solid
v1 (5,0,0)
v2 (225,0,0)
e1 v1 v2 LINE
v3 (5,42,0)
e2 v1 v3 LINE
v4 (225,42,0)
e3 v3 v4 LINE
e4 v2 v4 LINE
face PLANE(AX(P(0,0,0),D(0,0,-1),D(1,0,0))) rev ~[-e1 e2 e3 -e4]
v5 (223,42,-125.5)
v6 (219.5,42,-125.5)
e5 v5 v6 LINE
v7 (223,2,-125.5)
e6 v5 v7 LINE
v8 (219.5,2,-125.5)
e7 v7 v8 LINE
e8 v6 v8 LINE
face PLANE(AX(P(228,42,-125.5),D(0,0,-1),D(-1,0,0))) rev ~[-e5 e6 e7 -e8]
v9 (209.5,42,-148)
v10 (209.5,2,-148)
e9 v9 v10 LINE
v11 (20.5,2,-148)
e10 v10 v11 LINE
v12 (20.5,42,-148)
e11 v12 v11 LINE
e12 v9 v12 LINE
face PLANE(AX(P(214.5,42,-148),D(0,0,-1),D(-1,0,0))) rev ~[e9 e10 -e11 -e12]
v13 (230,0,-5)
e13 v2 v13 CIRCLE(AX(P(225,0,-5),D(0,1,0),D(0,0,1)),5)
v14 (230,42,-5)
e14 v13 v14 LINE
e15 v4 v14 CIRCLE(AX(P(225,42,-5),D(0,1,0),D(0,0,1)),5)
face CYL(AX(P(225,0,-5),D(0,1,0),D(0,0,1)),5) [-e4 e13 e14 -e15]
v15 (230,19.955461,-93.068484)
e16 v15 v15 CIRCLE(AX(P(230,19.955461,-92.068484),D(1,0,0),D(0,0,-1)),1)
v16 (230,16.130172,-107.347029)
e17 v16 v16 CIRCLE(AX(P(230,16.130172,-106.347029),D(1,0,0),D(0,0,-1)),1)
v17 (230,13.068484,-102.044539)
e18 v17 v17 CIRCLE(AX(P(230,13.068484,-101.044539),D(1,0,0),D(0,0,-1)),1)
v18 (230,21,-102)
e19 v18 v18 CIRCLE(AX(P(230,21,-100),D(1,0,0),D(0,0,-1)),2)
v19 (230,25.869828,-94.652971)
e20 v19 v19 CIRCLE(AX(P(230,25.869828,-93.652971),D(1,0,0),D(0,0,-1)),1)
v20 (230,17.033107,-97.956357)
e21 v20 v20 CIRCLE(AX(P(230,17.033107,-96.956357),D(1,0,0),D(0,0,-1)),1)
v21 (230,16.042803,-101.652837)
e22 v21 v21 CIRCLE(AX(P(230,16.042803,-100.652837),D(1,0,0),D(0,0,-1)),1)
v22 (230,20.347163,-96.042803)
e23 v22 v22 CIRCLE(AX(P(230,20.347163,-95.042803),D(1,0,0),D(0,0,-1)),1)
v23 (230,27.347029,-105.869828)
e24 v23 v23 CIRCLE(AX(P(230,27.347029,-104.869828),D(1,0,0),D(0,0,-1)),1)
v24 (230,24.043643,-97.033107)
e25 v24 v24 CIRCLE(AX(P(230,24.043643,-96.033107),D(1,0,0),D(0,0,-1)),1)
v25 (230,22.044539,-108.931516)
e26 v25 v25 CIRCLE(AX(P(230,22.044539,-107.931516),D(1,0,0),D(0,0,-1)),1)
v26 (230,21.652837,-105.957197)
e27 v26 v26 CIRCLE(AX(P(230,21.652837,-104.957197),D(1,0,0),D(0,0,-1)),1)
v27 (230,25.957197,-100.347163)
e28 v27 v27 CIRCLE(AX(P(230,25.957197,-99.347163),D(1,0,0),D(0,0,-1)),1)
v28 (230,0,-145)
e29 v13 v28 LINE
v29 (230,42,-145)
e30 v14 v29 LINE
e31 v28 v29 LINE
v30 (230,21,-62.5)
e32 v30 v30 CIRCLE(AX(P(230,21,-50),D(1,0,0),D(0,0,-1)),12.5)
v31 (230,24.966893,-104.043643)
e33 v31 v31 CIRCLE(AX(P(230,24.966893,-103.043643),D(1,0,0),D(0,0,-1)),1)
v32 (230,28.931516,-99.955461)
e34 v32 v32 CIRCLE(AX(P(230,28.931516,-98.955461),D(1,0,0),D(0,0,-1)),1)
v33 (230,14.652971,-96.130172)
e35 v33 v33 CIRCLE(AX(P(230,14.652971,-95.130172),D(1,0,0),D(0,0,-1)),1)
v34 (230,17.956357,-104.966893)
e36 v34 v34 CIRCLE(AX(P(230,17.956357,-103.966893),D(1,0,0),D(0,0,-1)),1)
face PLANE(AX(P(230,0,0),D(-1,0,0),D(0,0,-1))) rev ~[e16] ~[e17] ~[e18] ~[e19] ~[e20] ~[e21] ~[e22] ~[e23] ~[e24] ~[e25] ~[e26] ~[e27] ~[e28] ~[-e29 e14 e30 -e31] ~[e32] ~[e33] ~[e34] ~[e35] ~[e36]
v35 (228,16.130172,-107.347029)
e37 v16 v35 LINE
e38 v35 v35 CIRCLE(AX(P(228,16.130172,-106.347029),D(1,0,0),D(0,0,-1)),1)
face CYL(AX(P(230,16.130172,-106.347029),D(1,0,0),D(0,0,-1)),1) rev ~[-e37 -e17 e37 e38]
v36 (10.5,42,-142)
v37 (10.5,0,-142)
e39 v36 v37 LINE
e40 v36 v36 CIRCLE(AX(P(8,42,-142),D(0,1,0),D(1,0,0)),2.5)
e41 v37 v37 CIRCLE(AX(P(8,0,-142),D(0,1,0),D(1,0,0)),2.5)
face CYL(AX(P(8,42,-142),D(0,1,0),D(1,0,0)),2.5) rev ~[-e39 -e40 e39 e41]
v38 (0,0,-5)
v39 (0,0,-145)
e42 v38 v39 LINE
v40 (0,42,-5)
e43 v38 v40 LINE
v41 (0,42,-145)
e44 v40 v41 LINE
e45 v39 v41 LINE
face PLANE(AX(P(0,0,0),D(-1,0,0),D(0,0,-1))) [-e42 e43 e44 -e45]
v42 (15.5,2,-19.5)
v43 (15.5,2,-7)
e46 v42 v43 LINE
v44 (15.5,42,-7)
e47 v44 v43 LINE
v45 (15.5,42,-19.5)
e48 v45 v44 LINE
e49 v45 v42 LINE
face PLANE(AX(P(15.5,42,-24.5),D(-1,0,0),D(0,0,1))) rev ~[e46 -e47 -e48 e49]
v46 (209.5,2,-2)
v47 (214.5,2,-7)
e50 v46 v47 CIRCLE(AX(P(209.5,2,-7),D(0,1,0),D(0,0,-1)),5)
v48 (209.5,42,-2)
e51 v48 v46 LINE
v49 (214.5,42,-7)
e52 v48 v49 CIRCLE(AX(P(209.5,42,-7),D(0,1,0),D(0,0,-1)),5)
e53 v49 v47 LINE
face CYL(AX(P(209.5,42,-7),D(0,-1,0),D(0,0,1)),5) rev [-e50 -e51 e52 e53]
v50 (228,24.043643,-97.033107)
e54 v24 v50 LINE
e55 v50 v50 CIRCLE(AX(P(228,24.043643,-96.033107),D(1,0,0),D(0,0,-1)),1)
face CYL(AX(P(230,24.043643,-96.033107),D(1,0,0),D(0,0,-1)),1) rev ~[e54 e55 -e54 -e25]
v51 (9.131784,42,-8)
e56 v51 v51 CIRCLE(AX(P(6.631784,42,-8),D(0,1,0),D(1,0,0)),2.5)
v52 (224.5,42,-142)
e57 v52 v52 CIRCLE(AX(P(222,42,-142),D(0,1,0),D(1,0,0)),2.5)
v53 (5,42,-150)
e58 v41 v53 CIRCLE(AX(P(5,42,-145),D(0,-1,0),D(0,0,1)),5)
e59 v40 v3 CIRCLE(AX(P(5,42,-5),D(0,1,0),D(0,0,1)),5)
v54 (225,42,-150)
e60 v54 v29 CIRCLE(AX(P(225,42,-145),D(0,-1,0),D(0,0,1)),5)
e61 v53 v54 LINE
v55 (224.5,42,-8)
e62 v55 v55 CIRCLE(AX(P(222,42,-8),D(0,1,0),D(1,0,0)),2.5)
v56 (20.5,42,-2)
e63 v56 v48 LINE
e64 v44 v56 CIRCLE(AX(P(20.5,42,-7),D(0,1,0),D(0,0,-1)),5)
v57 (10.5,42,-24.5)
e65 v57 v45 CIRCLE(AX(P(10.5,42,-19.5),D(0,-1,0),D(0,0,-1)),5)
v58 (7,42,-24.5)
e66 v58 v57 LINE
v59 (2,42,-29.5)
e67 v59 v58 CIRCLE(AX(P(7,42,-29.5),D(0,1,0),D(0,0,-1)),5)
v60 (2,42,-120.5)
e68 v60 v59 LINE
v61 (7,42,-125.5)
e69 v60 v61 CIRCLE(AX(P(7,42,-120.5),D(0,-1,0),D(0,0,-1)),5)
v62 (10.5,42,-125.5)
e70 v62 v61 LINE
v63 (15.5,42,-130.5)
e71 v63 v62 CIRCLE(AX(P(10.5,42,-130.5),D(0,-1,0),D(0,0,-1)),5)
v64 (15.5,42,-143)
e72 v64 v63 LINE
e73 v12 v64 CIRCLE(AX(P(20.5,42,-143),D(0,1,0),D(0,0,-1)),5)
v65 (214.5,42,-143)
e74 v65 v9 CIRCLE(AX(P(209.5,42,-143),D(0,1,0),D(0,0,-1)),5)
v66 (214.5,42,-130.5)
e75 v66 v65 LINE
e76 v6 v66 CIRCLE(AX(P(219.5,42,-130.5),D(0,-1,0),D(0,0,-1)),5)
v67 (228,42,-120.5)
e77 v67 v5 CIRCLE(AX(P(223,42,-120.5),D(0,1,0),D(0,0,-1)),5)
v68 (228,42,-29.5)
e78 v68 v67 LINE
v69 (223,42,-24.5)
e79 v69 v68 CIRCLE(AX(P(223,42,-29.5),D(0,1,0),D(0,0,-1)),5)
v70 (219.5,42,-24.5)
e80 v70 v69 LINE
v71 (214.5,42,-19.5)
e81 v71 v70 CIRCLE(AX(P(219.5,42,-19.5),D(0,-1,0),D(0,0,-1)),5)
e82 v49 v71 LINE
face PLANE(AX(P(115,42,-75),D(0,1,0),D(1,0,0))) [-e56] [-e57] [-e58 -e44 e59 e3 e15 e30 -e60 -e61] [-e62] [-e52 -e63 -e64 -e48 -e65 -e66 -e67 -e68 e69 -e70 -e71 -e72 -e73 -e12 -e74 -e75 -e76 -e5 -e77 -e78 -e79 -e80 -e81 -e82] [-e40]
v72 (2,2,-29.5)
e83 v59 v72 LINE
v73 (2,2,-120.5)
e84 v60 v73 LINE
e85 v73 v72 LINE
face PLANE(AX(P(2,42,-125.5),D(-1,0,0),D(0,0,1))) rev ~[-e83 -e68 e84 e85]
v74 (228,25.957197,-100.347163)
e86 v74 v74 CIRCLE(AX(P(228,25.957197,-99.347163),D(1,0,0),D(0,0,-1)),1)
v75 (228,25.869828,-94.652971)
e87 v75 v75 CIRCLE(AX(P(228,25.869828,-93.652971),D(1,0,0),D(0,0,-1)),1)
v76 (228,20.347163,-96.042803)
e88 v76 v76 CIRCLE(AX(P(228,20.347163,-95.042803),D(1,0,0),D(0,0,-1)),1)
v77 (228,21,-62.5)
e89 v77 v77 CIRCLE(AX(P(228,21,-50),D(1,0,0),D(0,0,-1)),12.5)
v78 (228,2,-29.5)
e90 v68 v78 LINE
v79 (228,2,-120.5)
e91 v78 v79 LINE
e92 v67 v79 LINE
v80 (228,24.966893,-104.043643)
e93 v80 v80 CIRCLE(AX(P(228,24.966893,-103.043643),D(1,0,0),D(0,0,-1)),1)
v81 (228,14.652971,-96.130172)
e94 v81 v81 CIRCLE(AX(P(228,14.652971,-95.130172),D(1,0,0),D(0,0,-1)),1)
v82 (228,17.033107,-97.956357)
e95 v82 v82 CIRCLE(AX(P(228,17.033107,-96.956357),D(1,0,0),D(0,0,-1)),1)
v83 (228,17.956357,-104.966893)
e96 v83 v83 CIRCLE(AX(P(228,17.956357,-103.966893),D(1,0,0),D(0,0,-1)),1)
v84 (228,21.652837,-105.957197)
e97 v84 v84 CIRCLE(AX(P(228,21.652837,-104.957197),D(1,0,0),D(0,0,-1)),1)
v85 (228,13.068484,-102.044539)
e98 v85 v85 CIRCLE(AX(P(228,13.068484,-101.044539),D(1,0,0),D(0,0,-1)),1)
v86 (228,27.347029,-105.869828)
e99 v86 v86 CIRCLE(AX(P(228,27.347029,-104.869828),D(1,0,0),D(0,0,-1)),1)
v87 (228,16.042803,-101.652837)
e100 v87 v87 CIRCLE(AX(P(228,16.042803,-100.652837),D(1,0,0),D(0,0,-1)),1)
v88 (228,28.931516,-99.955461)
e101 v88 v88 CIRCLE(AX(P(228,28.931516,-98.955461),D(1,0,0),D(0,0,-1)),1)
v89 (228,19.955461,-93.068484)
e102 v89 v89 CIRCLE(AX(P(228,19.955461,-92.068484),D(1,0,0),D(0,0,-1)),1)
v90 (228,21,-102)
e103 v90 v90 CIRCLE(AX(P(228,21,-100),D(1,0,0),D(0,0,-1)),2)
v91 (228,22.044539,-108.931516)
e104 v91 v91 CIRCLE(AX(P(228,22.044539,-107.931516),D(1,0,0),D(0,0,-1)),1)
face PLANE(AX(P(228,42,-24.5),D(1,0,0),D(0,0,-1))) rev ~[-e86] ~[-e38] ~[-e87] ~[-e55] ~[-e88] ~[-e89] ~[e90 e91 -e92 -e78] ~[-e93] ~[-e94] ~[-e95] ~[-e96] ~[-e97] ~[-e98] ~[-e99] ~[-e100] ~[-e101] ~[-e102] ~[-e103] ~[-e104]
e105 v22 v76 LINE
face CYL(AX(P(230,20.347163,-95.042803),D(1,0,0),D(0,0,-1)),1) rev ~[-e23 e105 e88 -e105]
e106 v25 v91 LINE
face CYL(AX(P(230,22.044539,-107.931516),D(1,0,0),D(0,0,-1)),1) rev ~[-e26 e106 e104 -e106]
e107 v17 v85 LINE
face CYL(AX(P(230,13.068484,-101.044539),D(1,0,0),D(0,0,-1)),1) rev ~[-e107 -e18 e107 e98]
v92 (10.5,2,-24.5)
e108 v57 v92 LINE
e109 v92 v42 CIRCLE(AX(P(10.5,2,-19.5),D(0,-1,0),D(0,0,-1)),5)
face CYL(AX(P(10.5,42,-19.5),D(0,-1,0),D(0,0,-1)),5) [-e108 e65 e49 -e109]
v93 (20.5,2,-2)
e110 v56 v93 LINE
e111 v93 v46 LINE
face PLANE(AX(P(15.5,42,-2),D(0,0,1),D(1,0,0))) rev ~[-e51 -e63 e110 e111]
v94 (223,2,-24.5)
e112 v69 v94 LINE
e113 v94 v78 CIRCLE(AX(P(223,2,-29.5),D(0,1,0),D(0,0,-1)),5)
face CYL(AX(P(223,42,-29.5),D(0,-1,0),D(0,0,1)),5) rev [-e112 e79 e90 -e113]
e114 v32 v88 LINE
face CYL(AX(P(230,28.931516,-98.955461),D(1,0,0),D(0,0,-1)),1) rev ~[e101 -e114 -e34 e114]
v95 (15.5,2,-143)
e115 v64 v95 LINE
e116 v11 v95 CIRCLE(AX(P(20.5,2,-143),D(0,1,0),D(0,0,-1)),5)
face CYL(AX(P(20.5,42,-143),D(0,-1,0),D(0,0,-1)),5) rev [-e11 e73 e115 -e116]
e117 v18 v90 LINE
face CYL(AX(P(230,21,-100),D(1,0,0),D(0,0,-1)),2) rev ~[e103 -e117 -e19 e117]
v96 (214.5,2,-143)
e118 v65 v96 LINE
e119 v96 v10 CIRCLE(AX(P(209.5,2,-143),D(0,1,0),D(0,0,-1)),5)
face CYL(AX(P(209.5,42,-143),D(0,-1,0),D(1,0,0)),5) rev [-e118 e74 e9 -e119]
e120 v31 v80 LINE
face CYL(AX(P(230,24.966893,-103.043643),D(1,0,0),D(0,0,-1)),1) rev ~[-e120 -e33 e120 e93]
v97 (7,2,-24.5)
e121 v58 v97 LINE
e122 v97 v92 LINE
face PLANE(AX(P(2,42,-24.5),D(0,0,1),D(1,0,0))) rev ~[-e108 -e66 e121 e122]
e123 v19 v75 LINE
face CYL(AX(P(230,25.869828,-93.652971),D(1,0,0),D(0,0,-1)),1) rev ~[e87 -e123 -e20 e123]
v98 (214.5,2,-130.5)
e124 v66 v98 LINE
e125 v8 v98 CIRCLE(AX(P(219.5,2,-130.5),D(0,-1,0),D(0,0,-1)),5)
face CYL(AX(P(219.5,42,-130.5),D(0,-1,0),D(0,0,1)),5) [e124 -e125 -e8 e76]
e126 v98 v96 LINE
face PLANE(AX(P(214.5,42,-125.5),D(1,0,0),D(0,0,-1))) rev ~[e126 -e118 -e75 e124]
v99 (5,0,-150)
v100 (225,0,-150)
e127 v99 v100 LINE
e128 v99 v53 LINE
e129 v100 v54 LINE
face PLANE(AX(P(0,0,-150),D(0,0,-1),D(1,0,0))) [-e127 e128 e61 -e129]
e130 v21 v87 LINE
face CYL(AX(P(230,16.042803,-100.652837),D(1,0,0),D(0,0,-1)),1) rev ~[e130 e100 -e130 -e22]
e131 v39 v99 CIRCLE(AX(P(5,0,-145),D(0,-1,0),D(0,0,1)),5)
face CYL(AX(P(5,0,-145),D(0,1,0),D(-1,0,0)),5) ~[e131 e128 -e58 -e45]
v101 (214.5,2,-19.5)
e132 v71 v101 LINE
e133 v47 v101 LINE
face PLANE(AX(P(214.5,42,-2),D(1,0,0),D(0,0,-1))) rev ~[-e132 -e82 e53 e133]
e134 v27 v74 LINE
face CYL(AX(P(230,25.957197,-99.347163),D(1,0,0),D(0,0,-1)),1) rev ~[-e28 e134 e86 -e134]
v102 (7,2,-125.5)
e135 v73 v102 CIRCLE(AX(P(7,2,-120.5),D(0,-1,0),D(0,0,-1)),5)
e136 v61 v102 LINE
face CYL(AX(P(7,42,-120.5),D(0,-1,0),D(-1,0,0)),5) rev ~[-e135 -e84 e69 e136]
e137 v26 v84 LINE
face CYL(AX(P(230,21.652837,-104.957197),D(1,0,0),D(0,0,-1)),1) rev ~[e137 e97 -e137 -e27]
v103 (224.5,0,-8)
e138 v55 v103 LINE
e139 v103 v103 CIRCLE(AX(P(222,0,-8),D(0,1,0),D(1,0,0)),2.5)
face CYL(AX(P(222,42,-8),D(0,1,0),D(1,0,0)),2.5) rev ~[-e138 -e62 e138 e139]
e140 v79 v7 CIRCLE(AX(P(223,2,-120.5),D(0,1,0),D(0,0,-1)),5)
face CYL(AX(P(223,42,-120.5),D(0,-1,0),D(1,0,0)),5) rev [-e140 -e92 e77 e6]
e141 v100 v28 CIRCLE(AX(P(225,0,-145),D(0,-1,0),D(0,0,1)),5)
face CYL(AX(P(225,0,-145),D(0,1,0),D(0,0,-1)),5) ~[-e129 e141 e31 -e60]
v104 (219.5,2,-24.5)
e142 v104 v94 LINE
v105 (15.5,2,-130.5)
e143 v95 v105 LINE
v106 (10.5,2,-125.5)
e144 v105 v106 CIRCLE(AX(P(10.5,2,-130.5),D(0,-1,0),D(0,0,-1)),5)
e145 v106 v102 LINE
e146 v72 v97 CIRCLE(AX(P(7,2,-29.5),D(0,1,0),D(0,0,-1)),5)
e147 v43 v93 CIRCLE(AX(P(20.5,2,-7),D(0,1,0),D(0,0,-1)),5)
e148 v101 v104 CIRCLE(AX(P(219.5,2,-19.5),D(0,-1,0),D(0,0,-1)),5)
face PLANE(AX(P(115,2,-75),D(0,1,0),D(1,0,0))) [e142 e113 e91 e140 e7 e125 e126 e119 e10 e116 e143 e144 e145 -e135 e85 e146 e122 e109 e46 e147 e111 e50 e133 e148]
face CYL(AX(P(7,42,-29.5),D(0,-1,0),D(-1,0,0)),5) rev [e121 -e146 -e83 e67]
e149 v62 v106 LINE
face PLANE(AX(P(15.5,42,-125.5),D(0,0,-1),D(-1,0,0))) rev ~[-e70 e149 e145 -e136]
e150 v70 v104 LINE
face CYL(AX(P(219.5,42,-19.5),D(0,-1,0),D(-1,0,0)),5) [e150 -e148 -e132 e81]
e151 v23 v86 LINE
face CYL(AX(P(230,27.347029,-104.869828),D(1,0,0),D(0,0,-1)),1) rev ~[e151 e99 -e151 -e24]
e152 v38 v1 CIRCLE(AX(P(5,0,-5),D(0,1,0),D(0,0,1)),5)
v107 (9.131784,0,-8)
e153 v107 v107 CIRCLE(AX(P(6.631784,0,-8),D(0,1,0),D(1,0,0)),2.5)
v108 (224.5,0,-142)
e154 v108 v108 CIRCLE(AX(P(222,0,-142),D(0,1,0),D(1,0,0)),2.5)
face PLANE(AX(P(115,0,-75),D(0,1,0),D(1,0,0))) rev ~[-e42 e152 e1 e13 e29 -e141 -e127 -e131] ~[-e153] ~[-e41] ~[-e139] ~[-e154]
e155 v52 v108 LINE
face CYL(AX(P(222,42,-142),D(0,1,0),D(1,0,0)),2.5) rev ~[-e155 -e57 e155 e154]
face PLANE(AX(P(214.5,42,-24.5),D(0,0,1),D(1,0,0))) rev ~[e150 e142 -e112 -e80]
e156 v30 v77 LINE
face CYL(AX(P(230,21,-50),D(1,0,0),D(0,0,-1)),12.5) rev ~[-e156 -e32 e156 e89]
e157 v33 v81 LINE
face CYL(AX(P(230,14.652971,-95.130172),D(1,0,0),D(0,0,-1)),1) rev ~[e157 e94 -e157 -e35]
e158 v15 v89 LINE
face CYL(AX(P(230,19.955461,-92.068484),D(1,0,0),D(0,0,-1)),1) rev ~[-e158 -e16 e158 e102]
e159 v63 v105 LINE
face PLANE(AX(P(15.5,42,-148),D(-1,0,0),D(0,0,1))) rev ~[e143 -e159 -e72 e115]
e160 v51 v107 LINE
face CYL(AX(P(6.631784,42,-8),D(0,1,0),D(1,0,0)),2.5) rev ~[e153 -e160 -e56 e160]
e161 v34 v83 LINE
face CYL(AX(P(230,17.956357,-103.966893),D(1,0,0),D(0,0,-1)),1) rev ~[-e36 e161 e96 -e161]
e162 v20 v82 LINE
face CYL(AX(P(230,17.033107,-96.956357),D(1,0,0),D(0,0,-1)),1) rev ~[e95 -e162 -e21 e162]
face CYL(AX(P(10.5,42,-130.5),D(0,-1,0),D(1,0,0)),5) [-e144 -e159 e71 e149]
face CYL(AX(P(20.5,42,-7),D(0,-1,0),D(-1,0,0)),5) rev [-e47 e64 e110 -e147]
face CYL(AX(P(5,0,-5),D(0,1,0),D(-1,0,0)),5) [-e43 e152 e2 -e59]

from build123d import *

# Parameters (mm, degrees)
SKETCH_1_W          = 230
SKETCH_1_H          = 150
EXTRUDE_1_DEPTH     = 42
CUT_EXTRUDE_2_DEPTH = 40
FILLET_1_R          = 5
FILLET_2_R          = 5
SKETCH_5_R          = 2.5
CUT_EXTRUDE_3_DEPTH = 43
SKETCH_6_R          = 12.5
CUT_EXTRUDE_4_DEPTH = 10
CUT_EXTRUDE_5_REACH = 232
SKETCH_9_R          = 2
SKETCH_9_R_2        = 1


with BuildPart() as part:
    # 草图1 → 凸台-拉伸1 (new body)
    with BuildSketch(Plane(origin=(0, 0, 0), x_dir=(1, 0, 0), z_dir=(0, 1, 0))):
        with Locations((115, 75)):
            Rectangle(SKETCH_1_W, SKETCH_1_H)
    extrude(amount=EXTRUDE_1_DEPTH)

    # 草图4 → 切除-拉伸2 (cut)
    with BuildSketch(Plane(origin=(0, 42, 0), x_dir=(1, 0, 0), z_dir=(0, 1, 0))):
        Polygon((2, 125.5), (2, 24.5), (15.5, 24.5), (15.5, 2), (214.5, 2), (214.5, 24.5), (228, 24.5), (228, 125.5), (214.5, 125.5), (214.5, 148), (15.5, 148), (15.5, 125.5), align=None)
    extrude(amount=-CUT_EXTRUDE_2_DEPTH, mode=Mode.SUBTRACT)

    # 圆角1
    fillet_1_edges = [part.edges().sort_by_distance(p)[0] for p in [
        (0, 21, -150),
        (0, 21, 0),
        (230, 21, 0),
        (230, 21, -150),
    ]]
    fillet(fillet_1_edges, radius=FILLET_1_R)

    # 圆角2
    fillet_2_edges = [part.edges().sort_by_distance(p)[0] for p in [
        (2, 22, -125.5),
        (15.5, 22, -125.5),
        (15.5, 22, -148),
        (214.5, 22, -148),
        (214.5, 22, -125.5),
        (228, 22, -125.5),
        (228, 22, -24.5),
        (214.5, 22, -24.5),
        (214.5, 22, -2),
        (15.5, 22, -2),
        (15.5, 22, -24.5),
        (2, 22, -24.5),
    ]]
    fillet(fillet_2_edges, radius=FILLET_2_R)

    # 草图5 → 切除-拉伸3 (cut, through all)
    with BuildSketch(Plane(origin=(0, 42, 0), x_dir=(1, 0, 0), z_dir=(0, 1, 0))):
        with Locations((222, 142)):
            Circle(SKETCH_5_R)
        with Locations((6.63178387, 8)):
            Circle(SKETCH_5_R)
        with Locations((222, 8)):
            Circle(SKETCH_5_R)
        with Locations((8, 142)):
            Circle(SKETCH_5_R)
    extrude(amount=-CUT_EXTRUDE_3_DEPTH, mode=Mode.SUBTRACT)

    # 草图6 → 切除-拉伸4 (cut)
    with BuildSketch(Plane(origin=(230, 0, 0), x_dir=(0, 0, -1), z_dir=(1, 0, 0))):
        with Locations((50, 21)):
            Circle(SKETCH_6_R)
    extrude(amount=-CUT_EXTRUDE_4_DEPTH, mode=Mode.SUBTRACT)

    # 草图9 → 切除-拉伸5 (cut, up to next)
    with BuildSketch(Plane(origin=(230, 0, 0), x_dir=(0, 0, -1), z_dir=(1, 0, 0)), mode=Mode.PRIVATE) as cut_extrude_5_sk1:
        with Locations((100, 21)):
            Circle(SKETCH_9_R)
    cut_extrude_5_tool1 = extrude(cut_extrude_5_sk1.sketch, amount=-CUT_EXTRUDE_5_REACH, mode=Mode.PRIVATE) & part.part
    add(cut_extrude_5_tool1.solids().sort_by_distance((230, 21, -100))[0], mode=Mode.SUBTRACT)
    # 草图9 → 切除-拉伸5 (cut, up to next)
    with BuildSketch(Plane(origin=(230, 0, 0), x_dir=(0, 0, -1), z_dir=(1, 0, 0)), mode=Mode.PRIVATE) as cut_extrude_5_sk2:
        with Locations((103.04364251, 24.966893025)):
            Circle(SKETCH_9_R_2)
    cut_extrude_5_tool2 = extrude(cut_extrude_5_sk2.sketch, amount=-CUT_EXTRUDE_5_REACH, mode=Mode.PRIVATE) & part.part
    add(cut_extrude_5_tool2.solids().sort_by_distance((230, 24.966893, -103.043643))[0], mode=Mode.SUBTRACT)
    # 草图9 → 切除-拉伸5 (cut, up to next)
    with BuildSketch(Plane(origin=(230, 0, 0), x_dir=(0, 0, -1), z_dir=(1, 0, 0)), mode=Mode.PRIVATE) as cut_extrude_5_sk3:
        with Locations((104.869828016, 27.34702884)):
            Circle(SKETCH_9_R_2)
    cut_extrude_5_tool3 = extrude(cut_extrude_5_sk3.sketch, amount=-CUT_EXTRUDE_5_REACH, mode=Mode.PRIVATE) & part.part
    add(cut_extrude_5_tool3.solids().sort_by_distance((230, 27.347029, -104.869828))[0], mode=Mode.SUBTRACT)
    # 草图9 → 切除-拉伸5 (cut, up to next)
    with BuildSketch(Plane(origin=(230, 0, 0), x_dir=(0, 0, -1), z_dir=(1, 0, 0)), mode=Mode.PRIVATE) as cut_extrude_5_sk4:
        with Locations((104.957197217, 21.6528367)):
            Circle(SKETCH_9_R_2)
    cut_extrude_5_tool4 = extrude(cut_extrude_5_sk4.sketch, amount=-CUT_EXTRUDE_5_REACH, mode=Mode.PRIVATE) & part.part
    add(cut_extrude_5_tool4.solids().sort_by_distance((230, 21.652837, -104.957197))[0], mode=Mode.SUBTRACT)
    # 草图9 → 切除-拉伸5 (cut, up to next)
    with BuildSketch(Plane(origin=(230, 0, 0), x_dir=(0, 0, -1), z_dir=(1, 0, 0)), mode=Mode.PRIVATE) as cut_extrude_5_sk5:
        with Locations((103.966893025, 17.95635749)):
            Circle(SKETCH_9_R_2)
    cut_extrude_5_tool5 = extrude(cut_extrude_5_sk5.sketch, amount=-CUT_EXTRUDE_5_REACH, mode=Mode.PRIVATE) & part.part
    add(cut_extrude_5_tool5.solids().sort_by_distance((230, 17.956357, -103.966893))[0], mode=Mode.SUBTRACT)
    # 草图9 → 切除-拉伸5 (cut, up to next)
    with BuildSketch(Plane(origin=(230, 0, 0), x_dir=(0, 0, -1), z_dir=(1, 0, 0)), mode=Mode.PRIVATE) as cut_extrude_5_sk6:
        with Locations((100.6528367, 16.042802783)):
            Circle(SKETCH_9_R_2)
    cut_extrude_5_tool6 = extrude(cut_extrude_5_sk6.sketch, amount=-CUT_EXTRUDE_5_REACH, mode=Mode.PRIVATE) & part.part
    add(cut_extrude_5_tool6.solids().sort_by_distance((230, 16.042803, -100.652837))[0], mode=Mode.SUBTRACT)
    # 草图9 → 切除-拉伸5 (cut, up to next)
    with BuildSketch(Plane(origin=(230, 0, 0), x_dir=(0, 0, -1), z_dir=(1, 0, 0)), mode=Mode.PRIVATE) as cut_extrude_5_sk7:
        with Locations((96.95635749, 17.033106975)):
            Circle(SKETCH_9_R_2)
    cut_extrude_5_tool7 = extrude(cut_extrude_5_sk7.sketch, amount=-CUT_EXTRUDE_5_REACH, mode=Mode.PRIVATE) & part.part
    add(cut_extrude_5_tool7.solids().sort_by_distance((230, 17.033107, -96.956357))[0], mode=Mode.SUBTRACT)
    # 草图9 → 切除-拉伸5 (cut, up to next)
    with BuildSketch(Plane(origin=(230, 0, 0), x_dir=(0, 0, -1), z_dir=(1, 0, 0)), mode=Mode.PRIVATE) as cut_extrude_5_sk8:
        with Locations((95.042802783, 20.3471633)):
            Circle(SKETCH_9_R_2)
    cut_extrude_5_tool8 = extrude(cut_extrude_5_sk8.sketch, amount=-CUT_EXTRUDE_5_REACH, mode=Mode.PRIVATE) & part.part
    add(cut_extrude_5_tool8.solids().sort_by_distance((230, 20.347163, -95.042803))[0], mode=Mode.SUBTRACT)
    # 草图9 → 切除-拉伸5 (cut, up to next)
    with BuildSketch(Plane(origin=(230, 0, 0), x_dir=(0, 0, -1), z_dir=(1, 0, 0)), mode=Mode.PRIVATE) as cut_extrude_5_sk9:
        with Locations((96.033106975, 24.04364251)):
            Circle(SKETCH_9_R_2)
    cut_extrude_5_tool9 = extrude(cut_extrude_5_sk9.sketch, amount=-CUT_EXTRUDE_5_REACH, mode=Mode.PRIVATE) & part.part
    add(cut_extrude_5_tool9.solids().sort_by_distance((230, 24.043643, -96.033107))[0], mode=Mode.SUBTRACT)
    # 草图9 → 切除-拉伸5 (cut, up to next)
    with BuildSketch(Plane(origin=(230, 0, 0), x_dir=(0, 0, -1), z_dir=(1, 0, 0)), mode=Mode.PRIVATE) as cut_extrude_5_sk10:
        with Locations((99.3471633, 25.957197217)):
            Circle(SKETCH_9_R_2)
    cut_extrude_5_tool10 = extrude(cut_extrude_5_sk10.sketch, amount=-CUT_EXTRUDE_5_REACH, mode=Mode.PRIVATE) & part.part
    add(cut_extrude_5_tool10.solids().sort_by_distance((230, 25.957197, -99.347163))[0], mode=Mode.SUBTRACT)
    # 草图9 → 切除-拉伸5 (cut, up to next)
    with BuildSketch(Plane(origin=(230, 0, 0), x_dir=(0, 0, -1), z_dir=(1, 0, 0)), mode=Mode.PRIVATE) as cut_extrude_5_sk11:
        with Locations((107.931515546, 22.04453872)):
            Circle(SKETCH_9_R_2)
    cut_extrude_5_tool11 = extrude(cut_extrude_5_sk11.sketch, amount=-CUT_EXTRUDE_5_REACH, mode=Mode.PRIVATE) & part.part
    add(cut_extrude_5_tool11.solids().sort_by_distance((230, 22.044539, -107.931516))[0], mode=Mode.SUBTRACT)
    # 草图9 → 切除-拉伸5 (cut, up to next)
    with BuildSketch(Plane(origin=(230, 0, 0), x_dir=(0, 0, -1), z_dir=(1, 0, 0)), mode=Mode.PRIVATE) as cut_extrude_5_sk12:
        with Locations((106.34702884, 16.130171984)):
            Circle(SKETCH_9_R_2)
    cut_extrude_5_tool12 = extrude(cut_extrude_5_sk12.sketch, amount=-CUT_EXTRUDE_5_REACH, mode=Mode.PRIVATE) & part.part
    add(cut_extrude_5_tool12.solids().sort_by_distance((230, 16.130172, -106.347029))[0], mode=Mode.SUBTRACT)
    # 草图9 → 切除-拉伸5 (cut, up to next)
    with BuildSketch(Plane(origin=(230, 0, 0), x_dir=(0, 0, -1), z_dir=(1, 0, 0)), mode=Mode.PRIVATE) as cut_extrude_5_sk13:
        with Locations((101.04453872, 13.068484454)):
            Circle(SKETCH_9_R_2)
    cut_extrude_5_tool13 = extrude(cut_extrude_5_sk13.sketch, amount=-CUT_EXTRUDE_5_REACH, mode=Mode.PRIVATE) & part.part
    add(cut_extrude_5_tool13.solids().sort_by_distance((230, 13.068484, -101.044539))[0], mode=Mode.SUBTRACT)
    # 草图9 → 切除-拉伸5 (cut, up to next)
    with BuildSketch(Plane(origin=(230, 0, 0), x_dir=(0, 0, -1), z_dir=(1, 0, 0)), mode=Mode.PRIVATE) as cut_extrude_5_sk14:
        with Locations((95.130171984, 14.65297116)):
            Circle(SKETCH_9_R_2)
    cut_extrude_5_tool14 = extrude(cut_extrude_5_sk14.sketch, amount=-CUT_EXTRUDE_5_REACH, mode=Mode.PRIVATE) & part.part
    add(cut_extrude_5_tool14.solids().sort_by_distance((230, 14.652971, -95.130172))[0], mode=Mode.SUBTRACT)
    # 草图9 → 切除-拉伸5 (cut, up to next)
    with BuildSketch(Plane(origin=(230, 0, 0), x_dir=(0, 0, -1), z_dir=(1, 0, 0)), mode=Mode.PRIVATE) as cut_extrude_5_sk15:
        with Locations((92.068484454, 19.95546128)):
            Circle(SKETCH_9_R_2)
    cut_extrude_5_tool15 = extrude(cut_extrude_5_sk15.sketch, amount=-CUT_EXTRUDE_5_REACH, mode=Mode.PRIVATE) & part.part
    add(cut_extrude_5_tool15.solids().sort_by_distance((230, 19.955461, -92.068484))[0], mode=Mode.SUBTRACT)
    # 草图9 → 切除-拉伸5 (cut, up to next)
    with BuildSketch(Plane(origin=(230, 0, 0), x_dir=(0, 0, -1), z_dir=(1, 0, 0)), mode=Mode.PRIVATE) as cut_extrude_5_sk16:
        with Locations((93.65297116, 25.869828016)):
            Circle(SKETCH_9_R_2)
    cut_extrude_5_tool16 = extrude(cut_extrude_5_sk16.sketch, amount=-CUT_EXTRUDE_5_REACH, mode=Mode.PRIVATE) & part.part
    add(cut_extrude_5_tool16.solids().sort_by_distance((230, 25.869828, -93.652971))[0], mode=Mode.SUBTRACT)
    # 草图9 → 切除-拉伸5 (cut, up to next)
    with BuildSketch(Plane(origin=(230, 0, 0), x_dir=(0, 0, -1), z_dir=(1, 0, 0)), mode=Mode.PRIVATE) as cut_extrude_5_sk17:
        with Locations((98.95546128, 28.931515546)):
            Circle(SKETCH_9_R_2)
    cut_extrude_5_tool17 = extrude(cut_extrude_5_sk17.sketch, amount=-CUT_EXTRUDE_5_REACH, mode=Mode.PRIVATE) & part.part
    add(cut_extrude_5_tool17.solids().sort_by_distance((230, 28.931516, -98.955461))[0], mode=Mode.SUBTRACT)


solid = part.part
